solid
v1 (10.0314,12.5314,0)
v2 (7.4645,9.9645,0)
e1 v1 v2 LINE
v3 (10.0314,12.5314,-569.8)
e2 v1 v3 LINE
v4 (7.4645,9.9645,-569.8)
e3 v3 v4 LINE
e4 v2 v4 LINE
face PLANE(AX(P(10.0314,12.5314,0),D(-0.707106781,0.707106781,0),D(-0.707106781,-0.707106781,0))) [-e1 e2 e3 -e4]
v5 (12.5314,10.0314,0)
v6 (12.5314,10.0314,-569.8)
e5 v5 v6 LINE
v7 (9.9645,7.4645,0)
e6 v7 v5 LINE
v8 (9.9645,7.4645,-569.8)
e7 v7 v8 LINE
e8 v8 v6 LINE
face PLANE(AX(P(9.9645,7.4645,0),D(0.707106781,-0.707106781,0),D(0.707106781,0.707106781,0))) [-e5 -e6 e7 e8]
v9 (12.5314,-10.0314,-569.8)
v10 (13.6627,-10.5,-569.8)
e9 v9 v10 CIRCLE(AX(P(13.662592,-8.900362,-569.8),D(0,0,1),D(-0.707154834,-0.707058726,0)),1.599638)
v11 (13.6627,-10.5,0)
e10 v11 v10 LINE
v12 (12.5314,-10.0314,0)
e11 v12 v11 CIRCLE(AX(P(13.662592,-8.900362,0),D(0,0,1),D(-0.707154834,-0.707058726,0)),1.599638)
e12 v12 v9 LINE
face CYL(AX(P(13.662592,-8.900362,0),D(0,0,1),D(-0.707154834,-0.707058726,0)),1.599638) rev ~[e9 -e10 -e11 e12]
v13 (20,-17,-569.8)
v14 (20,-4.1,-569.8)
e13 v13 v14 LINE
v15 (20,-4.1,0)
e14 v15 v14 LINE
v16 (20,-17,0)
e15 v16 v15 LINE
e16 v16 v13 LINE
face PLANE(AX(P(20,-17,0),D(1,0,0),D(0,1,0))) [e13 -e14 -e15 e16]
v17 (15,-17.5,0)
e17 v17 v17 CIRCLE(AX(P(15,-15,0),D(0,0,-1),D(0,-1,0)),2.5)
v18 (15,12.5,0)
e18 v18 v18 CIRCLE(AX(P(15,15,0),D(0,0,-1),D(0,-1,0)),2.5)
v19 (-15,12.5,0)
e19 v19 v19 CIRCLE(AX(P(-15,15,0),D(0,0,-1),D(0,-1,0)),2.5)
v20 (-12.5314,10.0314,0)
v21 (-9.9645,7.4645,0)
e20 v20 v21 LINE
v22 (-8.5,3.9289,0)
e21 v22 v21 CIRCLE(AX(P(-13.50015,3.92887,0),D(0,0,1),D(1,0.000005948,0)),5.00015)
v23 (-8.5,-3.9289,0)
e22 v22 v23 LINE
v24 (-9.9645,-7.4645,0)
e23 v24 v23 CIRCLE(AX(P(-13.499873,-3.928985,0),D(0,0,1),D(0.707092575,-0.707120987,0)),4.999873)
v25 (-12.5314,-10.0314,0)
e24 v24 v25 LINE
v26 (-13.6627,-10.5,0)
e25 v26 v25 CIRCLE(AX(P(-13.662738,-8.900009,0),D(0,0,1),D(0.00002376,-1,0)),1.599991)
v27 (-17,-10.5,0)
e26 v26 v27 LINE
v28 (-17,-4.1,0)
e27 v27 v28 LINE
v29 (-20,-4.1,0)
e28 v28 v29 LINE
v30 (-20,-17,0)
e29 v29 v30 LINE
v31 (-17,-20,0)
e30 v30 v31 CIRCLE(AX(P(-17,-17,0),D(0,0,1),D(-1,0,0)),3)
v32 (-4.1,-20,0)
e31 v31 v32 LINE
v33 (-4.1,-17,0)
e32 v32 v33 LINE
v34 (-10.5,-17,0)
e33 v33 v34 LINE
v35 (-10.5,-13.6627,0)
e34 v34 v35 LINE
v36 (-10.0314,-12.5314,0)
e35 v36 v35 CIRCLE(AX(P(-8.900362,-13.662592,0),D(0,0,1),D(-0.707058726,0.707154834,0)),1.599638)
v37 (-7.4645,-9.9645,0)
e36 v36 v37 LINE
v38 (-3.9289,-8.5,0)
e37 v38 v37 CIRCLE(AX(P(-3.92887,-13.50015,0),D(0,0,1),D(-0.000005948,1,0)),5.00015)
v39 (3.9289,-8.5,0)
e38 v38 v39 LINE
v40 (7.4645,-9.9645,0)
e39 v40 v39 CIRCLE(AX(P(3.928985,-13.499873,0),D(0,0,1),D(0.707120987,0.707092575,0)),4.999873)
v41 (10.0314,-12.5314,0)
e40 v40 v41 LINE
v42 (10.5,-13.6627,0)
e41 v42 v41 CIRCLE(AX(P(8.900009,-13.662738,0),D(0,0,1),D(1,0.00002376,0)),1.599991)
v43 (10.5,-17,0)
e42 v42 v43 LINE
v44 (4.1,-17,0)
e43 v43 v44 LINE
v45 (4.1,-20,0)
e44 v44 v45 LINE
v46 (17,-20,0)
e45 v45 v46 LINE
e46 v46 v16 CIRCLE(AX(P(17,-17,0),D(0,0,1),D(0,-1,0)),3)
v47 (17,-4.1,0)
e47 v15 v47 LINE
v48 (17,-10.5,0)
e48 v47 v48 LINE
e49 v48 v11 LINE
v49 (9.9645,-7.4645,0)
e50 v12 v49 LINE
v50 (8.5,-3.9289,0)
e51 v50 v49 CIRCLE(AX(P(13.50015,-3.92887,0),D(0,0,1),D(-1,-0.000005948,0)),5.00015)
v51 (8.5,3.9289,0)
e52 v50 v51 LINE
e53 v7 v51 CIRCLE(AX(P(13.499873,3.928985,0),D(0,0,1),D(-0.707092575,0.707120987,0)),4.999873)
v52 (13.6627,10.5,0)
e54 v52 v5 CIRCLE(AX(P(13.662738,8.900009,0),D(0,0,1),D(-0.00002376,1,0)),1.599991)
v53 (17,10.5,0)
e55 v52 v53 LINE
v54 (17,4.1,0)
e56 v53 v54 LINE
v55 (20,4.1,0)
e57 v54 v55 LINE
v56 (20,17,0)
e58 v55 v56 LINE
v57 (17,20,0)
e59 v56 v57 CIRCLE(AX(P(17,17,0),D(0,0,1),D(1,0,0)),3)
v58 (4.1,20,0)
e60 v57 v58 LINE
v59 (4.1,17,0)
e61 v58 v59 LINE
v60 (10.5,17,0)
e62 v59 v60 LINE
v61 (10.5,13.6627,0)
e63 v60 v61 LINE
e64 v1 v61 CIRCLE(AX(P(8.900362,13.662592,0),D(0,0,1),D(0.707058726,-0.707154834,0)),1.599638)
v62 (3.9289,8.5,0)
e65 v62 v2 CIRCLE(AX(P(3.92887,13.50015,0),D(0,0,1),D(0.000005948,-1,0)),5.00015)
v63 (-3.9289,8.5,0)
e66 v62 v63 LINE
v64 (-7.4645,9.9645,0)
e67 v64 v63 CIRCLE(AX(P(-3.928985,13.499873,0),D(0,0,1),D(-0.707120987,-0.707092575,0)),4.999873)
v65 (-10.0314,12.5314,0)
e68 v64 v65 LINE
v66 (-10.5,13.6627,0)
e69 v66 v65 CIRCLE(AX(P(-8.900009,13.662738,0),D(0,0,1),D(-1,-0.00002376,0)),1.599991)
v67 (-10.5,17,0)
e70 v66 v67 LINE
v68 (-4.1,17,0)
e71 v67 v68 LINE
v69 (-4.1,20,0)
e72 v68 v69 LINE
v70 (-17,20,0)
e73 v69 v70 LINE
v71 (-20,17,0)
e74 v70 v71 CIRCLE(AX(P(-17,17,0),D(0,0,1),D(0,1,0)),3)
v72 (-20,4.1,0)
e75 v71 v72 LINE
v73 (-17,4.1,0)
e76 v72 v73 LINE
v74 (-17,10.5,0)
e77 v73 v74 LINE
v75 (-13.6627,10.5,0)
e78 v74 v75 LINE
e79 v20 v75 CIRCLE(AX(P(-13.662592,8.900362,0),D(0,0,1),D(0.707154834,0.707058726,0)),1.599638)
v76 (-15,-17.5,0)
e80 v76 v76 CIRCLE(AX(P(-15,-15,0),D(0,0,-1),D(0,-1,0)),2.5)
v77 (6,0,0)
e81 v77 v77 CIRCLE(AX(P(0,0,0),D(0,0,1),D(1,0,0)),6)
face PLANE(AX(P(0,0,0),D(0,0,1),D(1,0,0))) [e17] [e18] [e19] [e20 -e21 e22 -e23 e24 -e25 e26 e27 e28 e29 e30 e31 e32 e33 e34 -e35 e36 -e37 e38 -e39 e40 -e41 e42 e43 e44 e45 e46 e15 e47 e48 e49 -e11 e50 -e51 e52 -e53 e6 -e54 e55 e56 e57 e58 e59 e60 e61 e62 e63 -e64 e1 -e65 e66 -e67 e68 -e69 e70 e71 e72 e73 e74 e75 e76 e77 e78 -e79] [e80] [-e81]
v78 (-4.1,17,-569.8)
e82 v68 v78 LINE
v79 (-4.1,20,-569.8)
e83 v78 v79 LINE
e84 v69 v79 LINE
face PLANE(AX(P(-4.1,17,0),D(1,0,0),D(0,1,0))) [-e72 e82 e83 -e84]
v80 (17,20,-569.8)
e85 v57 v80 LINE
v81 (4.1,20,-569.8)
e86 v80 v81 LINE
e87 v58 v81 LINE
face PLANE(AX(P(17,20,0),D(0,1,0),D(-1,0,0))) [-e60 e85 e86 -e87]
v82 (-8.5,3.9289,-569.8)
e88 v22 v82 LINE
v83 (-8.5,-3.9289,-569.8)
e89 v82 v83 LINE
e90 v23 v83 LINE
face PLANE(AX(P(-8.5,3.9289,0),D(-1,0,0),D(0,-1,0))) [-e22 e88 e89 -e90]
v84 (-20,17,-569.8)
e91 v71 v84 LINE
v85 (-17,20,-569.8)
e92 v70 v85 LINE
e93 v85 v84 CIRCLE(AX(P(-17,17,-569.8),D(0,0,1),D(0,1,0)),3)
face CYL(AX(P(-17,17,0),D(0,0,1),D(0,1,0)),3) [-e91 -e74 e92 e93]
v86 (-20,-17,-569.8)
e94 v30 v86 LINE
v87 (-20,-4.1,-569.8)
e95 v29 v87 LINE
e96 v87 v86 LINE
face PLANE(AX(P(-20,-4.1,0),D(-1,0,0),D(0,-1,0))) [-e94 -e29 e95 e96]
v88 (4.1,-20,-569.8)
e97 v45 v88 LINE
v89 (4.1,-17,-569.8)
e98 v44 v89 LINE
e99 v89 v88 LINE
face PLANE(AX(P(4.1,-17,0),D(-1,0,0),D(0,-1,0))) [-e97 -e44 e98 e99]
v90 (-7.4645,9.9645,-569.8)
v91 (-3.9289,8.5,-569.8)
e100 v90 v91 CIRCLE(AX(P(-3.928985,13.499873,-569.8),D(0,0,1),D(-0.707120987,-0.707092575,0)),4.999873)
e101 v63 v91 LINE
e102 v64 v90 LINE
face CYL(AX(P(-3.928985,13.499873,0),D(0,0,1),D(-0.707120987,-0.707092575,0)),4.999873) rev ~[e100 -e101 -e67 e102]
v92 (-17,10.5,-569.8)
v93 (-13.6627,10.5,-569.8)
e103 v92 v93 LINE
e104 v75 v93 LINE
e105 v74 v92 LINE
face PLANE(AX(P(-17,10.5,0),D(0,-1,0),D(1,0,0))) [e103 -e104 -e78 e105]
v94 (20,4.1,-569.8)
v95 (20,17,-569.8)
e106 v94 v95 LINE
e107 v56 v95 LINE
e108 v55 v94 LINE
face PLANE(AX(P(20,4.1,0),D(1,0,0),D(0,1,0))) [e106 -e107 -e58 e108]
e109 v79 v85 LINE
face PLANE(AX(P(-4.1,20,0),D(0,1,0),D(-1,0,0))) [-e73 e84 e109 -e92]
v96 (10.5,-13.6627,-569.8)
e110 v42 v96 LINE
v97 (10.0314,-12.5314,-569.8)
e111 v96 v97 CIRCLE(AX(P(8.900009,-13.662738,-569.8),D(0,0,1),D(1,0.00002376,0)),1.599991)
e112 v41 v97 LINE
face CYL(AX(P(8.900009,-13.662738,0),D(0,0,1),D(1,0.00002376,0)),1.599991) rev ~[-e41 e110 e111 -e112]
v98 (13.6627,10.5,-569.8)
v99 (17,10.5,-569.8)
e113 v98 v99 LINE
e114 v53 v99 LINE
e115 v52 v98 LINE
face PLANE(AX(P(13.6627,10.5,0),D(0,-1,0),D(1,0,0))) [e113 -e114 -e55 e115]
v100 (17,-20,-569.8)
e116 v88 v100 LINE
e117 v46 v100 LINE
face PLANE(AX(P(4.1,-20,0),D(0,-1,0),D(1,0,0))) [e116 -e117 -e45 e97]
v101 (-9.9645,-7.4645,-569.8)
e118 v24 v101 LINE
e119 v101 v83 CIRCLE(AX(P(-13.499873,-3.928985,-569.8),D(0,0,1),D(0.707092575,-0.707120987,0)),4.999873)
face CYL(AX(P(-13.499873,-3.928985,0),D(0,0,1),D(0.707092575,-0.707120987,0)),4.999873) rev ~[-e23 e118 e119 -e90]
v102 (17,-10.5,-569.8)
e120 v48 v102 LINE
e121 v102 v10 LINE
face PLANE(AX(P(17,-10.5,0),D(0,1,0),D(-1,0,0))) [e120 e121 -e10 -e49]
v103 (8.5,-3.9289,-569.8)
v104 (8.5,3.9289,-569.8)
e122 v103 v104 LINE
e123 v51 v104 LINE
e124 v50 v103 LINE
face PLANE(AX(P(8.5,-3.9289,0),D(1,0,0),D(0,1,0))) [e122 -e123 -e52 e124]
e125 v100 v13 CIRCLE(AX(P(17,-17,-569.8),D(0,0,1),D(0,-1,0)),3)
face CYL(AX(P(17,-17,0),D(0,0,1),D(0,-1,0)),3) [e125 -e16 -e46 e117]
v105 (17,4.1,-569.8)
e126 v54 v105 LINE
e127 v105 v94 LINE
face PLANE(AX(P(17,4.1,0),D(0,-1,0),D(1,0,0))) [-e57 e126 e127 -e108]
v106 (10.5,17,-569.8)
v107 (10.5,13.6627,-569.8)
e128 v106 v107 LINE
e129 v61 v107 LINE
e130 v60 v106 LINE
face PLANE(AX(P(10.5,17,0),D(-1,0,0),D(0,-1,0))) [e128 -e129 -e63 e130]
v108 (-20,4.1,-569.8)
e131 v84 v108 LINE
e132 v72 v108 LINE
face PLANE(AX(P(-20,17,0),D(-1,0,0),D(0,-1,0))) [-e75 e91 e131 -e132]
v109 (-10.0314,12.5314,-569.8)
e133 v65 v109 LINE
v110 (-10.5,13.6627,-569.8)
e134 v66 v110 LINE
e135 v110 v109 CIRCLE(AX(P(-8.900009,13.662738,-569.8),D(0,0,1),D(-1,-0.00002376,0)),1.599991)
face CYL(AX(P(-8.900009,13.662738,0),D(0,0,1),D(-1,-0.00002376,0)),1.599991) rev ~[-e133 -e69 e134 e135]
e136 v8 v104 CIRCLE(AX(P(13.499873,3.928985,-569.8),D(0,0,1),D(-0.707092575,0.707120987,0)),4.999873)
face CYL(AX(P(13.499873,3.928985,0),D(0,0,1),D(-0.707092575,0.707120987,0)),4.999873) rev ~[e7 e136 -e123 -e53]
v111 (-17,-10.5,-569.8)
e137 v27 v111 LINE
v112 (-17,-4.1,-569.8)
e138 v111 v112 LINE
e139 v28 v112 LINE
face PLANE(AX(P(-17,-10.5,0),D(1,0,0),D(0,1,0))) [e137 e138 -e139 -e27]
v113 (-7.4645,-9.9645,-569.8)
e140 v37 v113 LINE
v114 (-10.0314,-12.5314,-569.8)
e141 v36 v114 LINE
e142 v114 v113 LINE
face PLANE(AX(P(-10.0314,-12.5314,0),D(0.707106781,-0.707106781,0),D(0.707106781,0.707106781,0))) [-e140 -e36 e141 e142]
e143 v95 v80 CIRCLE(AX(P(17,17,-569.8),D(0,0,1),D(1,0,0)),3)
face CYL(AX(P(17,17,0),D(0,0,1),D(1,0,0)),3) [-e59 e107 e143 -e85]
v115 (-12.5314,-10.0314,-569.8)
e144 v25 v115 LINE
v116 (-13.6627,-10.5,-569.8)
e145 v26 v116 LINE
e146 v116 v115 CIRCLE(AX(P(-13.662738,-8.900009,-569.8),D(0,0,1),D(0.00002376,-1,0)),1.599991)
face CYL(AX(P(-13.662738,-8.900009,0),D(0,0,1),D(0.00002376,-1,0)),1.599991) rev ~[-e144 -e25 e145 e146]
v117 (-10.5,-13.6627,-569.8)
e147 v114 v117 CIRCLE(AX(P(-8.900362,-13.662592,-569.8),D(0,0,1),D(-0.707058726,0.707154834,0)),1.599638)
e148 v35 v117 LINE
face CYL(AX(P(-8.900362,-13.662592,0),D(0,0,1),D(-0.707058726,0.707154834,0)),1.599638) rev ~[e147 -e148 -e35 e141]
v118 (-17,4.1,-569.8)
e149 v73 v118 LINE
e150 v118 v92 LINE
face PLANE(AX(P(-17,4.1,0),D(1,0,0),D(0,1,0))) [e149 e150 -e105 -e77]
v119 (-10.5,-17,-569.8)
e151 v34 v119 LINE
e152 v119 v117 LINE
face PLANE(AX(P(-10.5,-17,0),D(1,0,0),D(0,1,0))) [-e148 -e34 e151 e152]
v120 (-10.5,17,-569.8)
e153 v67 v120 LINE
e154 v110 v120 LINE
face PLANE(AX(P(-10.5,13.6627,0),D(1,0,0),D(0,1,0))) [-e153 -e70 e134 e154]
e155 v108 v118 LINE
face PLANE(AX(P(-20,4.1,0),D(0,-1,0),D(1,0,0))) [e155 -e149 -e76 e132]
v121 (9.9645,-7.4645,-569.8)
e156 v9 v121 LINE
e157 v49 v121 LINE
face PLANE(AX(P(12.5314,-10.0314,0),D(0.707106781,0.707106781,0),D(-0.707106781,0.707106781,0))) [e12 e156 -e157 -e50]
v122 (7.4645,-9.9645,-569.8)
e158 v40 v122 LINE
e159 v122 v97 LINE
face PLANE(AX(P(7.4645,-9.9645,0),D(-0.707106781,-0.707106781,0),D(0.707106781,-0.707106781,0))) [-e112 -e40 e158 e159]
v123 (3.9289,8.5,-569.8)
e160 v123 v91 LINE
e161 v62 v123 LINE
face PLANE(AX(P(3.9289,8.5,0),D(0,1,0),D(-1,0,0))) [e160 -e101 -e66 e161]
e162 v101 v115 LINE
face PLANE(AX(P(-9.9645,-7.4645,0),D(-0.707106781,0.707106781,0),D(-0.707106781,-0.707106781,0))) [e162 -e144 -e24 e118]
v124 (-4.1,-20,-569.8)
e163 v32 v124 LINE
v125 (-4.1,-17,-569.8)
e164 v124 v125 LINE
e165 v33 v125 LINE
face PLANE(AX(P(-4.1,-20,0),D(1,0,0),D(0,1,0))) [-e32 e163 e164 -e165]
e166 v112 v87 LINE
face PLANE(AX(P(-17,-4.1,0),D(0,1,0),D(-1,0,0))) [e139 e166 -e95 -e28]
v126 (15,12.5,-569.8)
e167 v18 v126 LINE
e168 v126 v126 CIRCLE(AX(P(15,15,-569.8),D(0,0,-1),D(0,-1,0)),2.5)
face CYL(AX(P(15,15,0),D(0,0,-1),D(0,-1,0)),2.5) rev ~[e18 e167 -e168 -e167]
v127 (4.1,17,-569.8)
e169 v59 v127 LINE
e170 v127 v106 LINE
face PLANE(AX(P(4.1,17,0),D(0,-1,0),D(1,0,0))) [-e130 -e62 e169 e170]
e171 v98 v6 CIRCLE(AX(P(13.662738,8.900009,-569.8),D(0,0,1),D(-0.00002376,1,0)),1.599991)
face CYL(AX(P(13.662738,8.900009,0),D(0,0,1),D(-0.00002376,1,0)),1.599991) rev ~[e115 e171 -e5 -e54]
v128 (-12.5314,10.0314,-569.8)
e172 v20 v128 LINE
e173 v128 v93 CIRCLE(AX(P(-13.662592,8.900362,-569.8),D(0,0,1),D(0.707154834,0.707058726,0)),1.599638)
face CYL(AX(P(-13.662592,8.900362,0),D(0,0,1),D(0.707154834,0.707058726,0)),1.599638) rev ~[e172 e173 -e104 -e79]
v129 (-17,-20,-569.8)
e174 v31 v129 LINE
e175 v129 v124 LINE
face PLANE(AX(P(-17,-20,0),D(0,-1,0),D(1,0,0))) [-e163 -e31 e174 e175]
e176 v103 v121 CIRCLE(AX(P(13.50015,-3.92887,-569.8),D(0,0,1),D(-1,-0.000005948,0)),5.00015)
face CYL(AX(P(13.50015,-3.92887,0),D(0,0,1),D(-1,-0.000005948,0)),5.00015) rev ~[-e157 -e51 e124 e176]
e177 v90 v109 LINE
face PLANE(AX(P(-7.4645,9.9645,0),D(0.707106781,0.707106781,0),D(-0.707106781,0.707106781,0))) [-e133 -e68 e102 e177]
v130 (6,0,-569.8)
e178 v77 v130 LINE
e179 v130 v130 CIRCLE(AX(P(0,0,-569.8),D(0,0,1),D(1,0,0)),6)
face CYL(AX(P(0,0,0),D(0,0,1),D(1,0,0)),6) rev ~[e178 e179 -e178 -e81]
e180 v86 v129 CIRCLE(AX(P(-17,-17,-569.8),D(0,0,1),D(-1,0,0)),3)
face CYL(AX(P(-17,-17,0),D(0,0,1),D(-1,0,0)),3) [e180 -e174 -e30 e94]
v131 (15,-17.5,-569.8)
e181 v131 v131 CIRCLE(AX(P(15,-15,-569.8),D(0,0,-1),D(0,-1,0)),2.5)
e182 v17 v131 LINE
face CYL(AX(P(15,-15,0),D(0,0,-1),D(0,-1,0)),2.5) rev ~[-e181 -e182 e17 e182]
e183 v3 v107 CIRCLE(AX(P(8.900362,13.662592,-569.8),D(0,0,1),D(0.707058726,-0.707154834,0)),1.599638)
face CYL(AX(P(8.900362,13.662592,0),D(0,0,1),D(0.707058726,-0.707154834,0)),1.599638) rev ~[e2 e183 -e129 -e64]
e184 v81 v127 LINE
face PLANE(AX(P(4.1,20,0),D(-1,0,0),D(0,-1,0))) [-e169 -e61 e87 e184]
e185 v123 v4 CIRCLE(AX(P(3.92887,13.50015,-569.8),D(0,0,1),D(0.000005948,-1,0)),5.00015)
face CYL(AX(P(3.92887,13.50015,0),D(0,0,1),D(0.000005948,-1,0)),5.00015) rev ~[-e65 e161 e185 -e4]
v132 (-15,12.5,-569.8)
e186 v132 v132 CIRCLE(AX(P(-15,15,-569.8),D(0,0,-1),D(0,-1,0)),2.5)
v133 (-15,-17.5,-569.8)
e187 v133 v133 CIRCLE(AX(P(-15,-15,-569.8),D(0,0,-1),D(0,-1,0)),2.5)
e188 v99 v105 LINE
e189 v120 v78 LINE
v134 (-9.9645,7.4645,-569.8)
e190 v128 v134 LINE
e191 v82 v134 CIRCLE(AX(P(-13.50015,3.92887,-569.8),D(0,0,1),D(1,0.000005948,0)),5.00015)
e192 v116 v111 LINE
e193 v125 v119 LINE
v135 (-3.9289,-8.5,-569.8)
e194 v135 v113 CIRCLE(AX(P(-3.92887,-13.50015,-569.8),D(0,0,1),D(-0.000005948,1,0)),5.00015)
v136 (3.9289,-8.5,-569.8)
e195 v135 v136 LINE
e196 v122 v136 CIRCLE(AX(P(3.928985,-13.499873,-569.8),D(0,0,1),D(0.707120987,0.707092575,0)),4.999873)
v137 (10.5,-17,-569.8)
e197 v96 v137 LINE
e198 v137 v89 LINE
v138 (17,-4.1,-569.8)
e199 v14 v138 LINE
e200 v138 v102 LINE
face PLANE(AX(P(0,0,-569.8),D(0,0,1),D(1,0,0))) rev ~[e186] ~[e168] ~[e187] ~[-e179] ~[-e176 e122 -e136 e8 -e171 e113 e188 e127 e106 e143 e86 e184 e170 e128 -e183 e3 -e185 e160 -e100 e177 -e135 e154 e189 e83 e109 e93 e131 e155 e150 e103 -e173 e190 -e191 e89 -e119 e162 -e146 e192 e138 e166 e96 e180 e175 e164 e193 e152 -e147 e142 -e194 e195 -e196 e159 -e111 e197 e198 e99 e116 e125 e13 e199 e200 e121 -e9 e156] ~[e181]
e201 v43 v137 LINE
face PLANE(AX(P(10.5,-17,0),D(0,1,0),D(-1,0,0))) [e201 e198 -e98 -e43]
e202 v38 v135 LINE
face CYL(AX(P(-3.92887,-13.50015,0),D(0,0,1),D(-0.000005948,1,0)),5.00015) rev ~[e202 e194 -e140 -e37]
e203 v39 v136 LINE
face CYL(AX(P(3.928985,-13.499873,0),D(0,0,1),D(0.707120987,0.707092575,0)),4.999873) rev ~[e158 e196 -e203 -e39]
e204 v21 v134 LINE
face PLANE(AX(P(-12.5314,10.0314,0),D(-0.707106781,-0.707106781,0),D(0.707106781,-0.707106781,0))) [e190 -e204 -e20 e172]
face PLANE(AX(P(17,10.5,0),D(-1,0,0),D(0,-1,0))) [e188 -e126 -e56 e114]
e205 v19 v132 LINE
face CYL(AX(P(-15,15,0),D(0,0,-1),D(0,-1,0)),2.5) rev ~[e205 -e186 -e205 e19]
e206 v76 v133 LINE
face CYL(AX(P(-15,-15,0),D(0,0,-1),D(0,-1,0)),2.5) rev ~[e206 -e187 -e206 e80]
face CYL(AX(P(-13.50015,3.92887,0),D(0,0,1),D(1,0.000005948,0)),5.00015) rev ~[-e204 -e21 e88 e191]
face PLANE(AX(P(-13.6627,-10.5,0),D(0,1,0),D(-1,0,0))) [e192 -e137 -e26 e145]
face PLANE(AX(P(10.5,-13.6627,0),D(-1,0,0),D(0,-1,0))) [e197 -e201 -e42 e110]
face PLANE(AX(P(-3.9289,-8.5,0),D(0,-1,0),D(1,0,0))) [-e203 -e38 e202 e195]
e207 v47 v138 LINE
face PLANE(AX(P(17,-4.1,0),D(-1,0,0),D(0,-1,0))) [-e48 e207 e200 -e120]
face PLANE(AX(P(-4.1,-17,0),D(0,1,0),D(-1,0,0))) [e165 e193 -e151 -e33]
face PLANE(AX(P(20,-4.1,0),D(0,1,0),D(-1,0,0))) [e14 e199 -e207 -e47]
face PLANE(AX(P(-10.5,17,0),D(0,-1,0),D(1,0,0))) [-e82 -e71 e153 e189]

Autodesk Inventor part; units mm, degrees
sketch "Skizze_1" plane through (0, 0, 0) normal (0, 0, 1) x (1, 0, 0)
  arc A0 (-20, -17) -> (-17, -20) centre (-17, -17) ccw
  line L0 (-17, -20) -> (-4.1, -20)
  line L1 (-4.1, -20) -> (-4.1, -17)
  line L2 (-4.1, -17) -> (-10.5, -17)
  line L3 (-10.5, -17) -> (-10.5, -13.6627)
  arc A1 (-10.0314, -12.5314) -> (-10.5, -13.6627) centre (-8.9002, -13.6627) ccw
  line L4 (-10.0314, -12.5314) -> (-7.4645, -9.9645)
  arc A2 (-3.9289, -8.5) -> (-7.4645, -9.9645) centre (-3.9289, -13.5) ccw
  line L5 (-3.9289, -8.5) -> (3.9289, -8.5)
  arc A3 (7.4645, -9.9645) -> (3.9289, -8.5) centre (3.9289, -13.5) ccw
  line L6 (7.4645, -9.9645) -> (10.0314, -12.5314)
  arc A4 (10.5, -13.6627) -> (10.0314, -12.5314) centre (8.9002, -13.6627) ccw
  line L7 (10.5, -13.6627) -> (10.5, -17)
  line L8 (10.5, -17) -> (4.1, -17)
  line L9 (4.1, -17) -> (4.1, -20)
  line L10 (4.1, -20) -> (17, -20)
  arc A5 (17, -20) -> (20, -17) centre (17, -17) ccw
  line L11 (20, -17) -> (20, -4.1)
  line L12 (20, -4.1) -> (17, -4.1)
  line L13 (17, -4.1) -> (17, -10.5)
  line L14 (17, -10.5) -> (13.6627, -10.5)
  arc A6 (12.5314, -10.0314) -> (13.6627, -10.5) centre (13.6627, -8.9002) ccw
  line L15 (12.5314, -10.0314) -> (9.9645, -7.4645)
  arc A7 (8.5, -3.9289) -> (9.9645, -7.4645) centre (13.5, -3.9289) ccw
  line L16 (8.5, -3.9289) -> (8.5, 3.9289)
  arc A8 (9.9645, 7.4645) -> (8.5, 3.9289) centre (13.5, 3.9289) ccw
  line L17 (9.9645, 7.4645) -> (12.5314, 10.0314)
  arc A9 (13.6627, 10.5) -> (12.5314, 10.0314) centre (13.6627, 8.9002) ccw
  line L18 (13.6627, 10.5) -> (17, 10.5)
  line L19 (17, 10.5) -> (17, 4.1)
  line L20 (17, 4.1) -> (20, 4.1)
  line L21 (20, 4.1) -> (20, 17)
  arc A10 (20, 17) -> (17, 20) centre (17, 17) ccw
  line L22 (17, 20) -> (4.1, 20)
  line L23 (4.1, 20) -> (4.1, 17)
  line L24 (4.1, 17) -> (10.5, 17)
  line L25 (10.5, 17) -> (10.5, 13.6627)
  arc A11 (10.0314, 12.5314) -> (10.5, 13.6627) centre (8.9002, 13.6627) ccw
  line L26 (10.0314, 12.5314) -> (7.4645, 9.9645)
  arc A12 (3.9289, 8.5) -> (7.4645, 9.9645) centre (3.9289, 13.5) ccw
  line L27 (3.9289, 8.5) -> (-3.9289, 8.5)
  arc A13 (-7.4645, 9.9645) -> (-3.9289, 8.5) centre (-3.9289, 13.5) ccw
  line L28 (-7.4645, 9.9645) -> (-10.0314, 12.5314)
  arc A14 (-10.5, 13.6627) -> (-10.0314, 12.5314) centre (-8.9002, 13.6627) ccw
  line L29 (-10.5, 13.6627) -> (-10.5, 17)
  line L30 (-10.5, 17) -> (-4.1, 17)
  line L31 (-4.1, 17) -> (-4.1, 20)
  line L32 (-4.1, 20) -> (-17, 20)
  arc A15 (-17, 20) -> (-20, 17) centre (-17, 17) ccw
  line L33 (-20, 17) -> (-20, 4.1)
  line L34 (-20, 4.1) -> (-17, 4.1)
  line L35 (-17, 4.1) -> (-17, 10.5)
  line L36 (-17, 10.5) -> (-13.6627, 10.5)
  arc A16 (-12.5314, 10.0314) -> (-13.6627, 10.5) centre (-13.6627, 8.9002) ccw
  line L37 (-12.5314, 10.0314) -> (-9.9645, 7.4645)
  arc A17 (-8.5, 3.9289) -> (-9.9645, 7.4645) centre (-13.5, 3.9289) ccw
  line L38 (-8.5, 3.9289) -> (-8.5, -3.9289)
  arc A18 (-9.9645, -7.4645) -> (-8.5, -3.9289) centre (-13.5, -3.9289) ccw
  line L39 (-9.9645, -7.4645) -> (-12.5314, -10.0314)
  arc A19 (-13.6627, -10.5) -> (-12.5314, -10.0314) centre (-13.6627, -8.9002) ccw
  line L40 (-13.6627, -10.5) -> (-17, -10.5)
  line L41 (-17, -10.5) -> (-17, -4.1)
  line L42 (-17, -4.1) -> (-20, -4.1)
  line L43 (-20, -4.1) -> (-20, -17)
  circle A20 centre (0, 0) radius 6
extrude "Extrusion1" add sketch "Skizze_1" against normal blind 569.8
sketch "Sketch2" plane through (0, 0, 0) normal (0, 0, 1) x (1, 0, 0)
  point P0 (-15, -15)
hole "Drilling 1" at (-15, -15, 0) direction (0, 0, -1) diameter 5 depth 6000
sketch "Sketch3" plane through (0, 0, 0) normal (0, 0, 1) x (1, 0, 0)
  point P0 (15, -15)
hole "Drilling 2" at (15, -15, 0) direction (0, 0, -1) diameter 5 depth 6000
sketch "Sketch4" plane through (0, 0, 0) normal (0, 0, 1) x (1, 0, 0)
  point P0 (15, 15)
hole "Drilling 3" at (15, 15, 0) direction (0, 0, -1) diameter 5 depth 6000
sketch "Sketch5" plane through (0, 0, 0) normal (0, 0, 1) x (1, 0, 0)
  point P0 (-15, 15)
hole "Drilling 4" at (-15, 15, 0) direction (0, 0, -1) diameter 5 depth 6000
ref_plane "side_4d_XY" through (-20, 0, -264.9) normal (-1, 0, 0) x (0, 1, 0)
ref_plane "side_4d_YZ" through (-20, 0, -264.9) normal (0, 1, 0) x (0, 0, -1)
ref_plane "side_4d_ZX" through (-20, 0, -264.9) normal (0, 0, -1) x (-1, 0, 0)
ref_plane "side_1a_XY" through (0, 20, -264.9) normal (0, 1, 0) x (1, 0, 0)
ref_plane "side_1a_YZ" through (0, 20, -264.9) normal (1, 0, 0) x (0, 0, -1)
ref_plane "side_1a_ZX" through (0, 20, -264.9) normal (0, 0, -1) x (0, 1, 0)
ref_plane "side_2b_XY" through (20, 0, -264.9) normal (1, 0, 0) x (0, -1, 0)
ref_plane "side_2b_YZ" through (20, 0, -264.9) normal (0, -1, 0) x (0, 0, -1)
ref_plane "side_2b_ZX" through (20, 0, -264.9) normal (0, 0, -1) x (1, 0, 0)
ref_plane "side_3c_XY" through (0, -20, -264.9) normal (0, -1, 0) x (-1, 0, 0)
ref_plane "side_3c_YZ" through (0, -20, -264.9) normal (-1, 0, 0) x (0, 0, -1)
ref_plane "side_3c_ZX" through (0, -20, -264.9) normal (0, 0, -1) x (0, -1, 0)
ref_plane "end_XY" through (0, 0, -529.8) normal (0, 0, -1) x (1, 0, 0)
ref_plane "end_YZ" through (0, 0, -529.8) normal (1, 0, 0) x (0, -1, 0)
ref_plane "end_ZX" through (0, 0, -529.8) normal (0, -1, 0) x (0, 0, -1)
ref_plane "start_XY" through (0, 0, 0) normal (0, 0, 1) x (1, 0, 0)
ref_plane "start_YZ" through (0, 0, 0) normal (1, 0, 0) x (0, 1, 0)
ref_plane "start_ZX" through (0, 0, 0) normal (0, 1, 0) x (0, 0, 1)
properties part number "MayTec 1_11_040040_43S_Profile 40x40, 4E, S_569_8_Detail_(0;0,0,0)"
